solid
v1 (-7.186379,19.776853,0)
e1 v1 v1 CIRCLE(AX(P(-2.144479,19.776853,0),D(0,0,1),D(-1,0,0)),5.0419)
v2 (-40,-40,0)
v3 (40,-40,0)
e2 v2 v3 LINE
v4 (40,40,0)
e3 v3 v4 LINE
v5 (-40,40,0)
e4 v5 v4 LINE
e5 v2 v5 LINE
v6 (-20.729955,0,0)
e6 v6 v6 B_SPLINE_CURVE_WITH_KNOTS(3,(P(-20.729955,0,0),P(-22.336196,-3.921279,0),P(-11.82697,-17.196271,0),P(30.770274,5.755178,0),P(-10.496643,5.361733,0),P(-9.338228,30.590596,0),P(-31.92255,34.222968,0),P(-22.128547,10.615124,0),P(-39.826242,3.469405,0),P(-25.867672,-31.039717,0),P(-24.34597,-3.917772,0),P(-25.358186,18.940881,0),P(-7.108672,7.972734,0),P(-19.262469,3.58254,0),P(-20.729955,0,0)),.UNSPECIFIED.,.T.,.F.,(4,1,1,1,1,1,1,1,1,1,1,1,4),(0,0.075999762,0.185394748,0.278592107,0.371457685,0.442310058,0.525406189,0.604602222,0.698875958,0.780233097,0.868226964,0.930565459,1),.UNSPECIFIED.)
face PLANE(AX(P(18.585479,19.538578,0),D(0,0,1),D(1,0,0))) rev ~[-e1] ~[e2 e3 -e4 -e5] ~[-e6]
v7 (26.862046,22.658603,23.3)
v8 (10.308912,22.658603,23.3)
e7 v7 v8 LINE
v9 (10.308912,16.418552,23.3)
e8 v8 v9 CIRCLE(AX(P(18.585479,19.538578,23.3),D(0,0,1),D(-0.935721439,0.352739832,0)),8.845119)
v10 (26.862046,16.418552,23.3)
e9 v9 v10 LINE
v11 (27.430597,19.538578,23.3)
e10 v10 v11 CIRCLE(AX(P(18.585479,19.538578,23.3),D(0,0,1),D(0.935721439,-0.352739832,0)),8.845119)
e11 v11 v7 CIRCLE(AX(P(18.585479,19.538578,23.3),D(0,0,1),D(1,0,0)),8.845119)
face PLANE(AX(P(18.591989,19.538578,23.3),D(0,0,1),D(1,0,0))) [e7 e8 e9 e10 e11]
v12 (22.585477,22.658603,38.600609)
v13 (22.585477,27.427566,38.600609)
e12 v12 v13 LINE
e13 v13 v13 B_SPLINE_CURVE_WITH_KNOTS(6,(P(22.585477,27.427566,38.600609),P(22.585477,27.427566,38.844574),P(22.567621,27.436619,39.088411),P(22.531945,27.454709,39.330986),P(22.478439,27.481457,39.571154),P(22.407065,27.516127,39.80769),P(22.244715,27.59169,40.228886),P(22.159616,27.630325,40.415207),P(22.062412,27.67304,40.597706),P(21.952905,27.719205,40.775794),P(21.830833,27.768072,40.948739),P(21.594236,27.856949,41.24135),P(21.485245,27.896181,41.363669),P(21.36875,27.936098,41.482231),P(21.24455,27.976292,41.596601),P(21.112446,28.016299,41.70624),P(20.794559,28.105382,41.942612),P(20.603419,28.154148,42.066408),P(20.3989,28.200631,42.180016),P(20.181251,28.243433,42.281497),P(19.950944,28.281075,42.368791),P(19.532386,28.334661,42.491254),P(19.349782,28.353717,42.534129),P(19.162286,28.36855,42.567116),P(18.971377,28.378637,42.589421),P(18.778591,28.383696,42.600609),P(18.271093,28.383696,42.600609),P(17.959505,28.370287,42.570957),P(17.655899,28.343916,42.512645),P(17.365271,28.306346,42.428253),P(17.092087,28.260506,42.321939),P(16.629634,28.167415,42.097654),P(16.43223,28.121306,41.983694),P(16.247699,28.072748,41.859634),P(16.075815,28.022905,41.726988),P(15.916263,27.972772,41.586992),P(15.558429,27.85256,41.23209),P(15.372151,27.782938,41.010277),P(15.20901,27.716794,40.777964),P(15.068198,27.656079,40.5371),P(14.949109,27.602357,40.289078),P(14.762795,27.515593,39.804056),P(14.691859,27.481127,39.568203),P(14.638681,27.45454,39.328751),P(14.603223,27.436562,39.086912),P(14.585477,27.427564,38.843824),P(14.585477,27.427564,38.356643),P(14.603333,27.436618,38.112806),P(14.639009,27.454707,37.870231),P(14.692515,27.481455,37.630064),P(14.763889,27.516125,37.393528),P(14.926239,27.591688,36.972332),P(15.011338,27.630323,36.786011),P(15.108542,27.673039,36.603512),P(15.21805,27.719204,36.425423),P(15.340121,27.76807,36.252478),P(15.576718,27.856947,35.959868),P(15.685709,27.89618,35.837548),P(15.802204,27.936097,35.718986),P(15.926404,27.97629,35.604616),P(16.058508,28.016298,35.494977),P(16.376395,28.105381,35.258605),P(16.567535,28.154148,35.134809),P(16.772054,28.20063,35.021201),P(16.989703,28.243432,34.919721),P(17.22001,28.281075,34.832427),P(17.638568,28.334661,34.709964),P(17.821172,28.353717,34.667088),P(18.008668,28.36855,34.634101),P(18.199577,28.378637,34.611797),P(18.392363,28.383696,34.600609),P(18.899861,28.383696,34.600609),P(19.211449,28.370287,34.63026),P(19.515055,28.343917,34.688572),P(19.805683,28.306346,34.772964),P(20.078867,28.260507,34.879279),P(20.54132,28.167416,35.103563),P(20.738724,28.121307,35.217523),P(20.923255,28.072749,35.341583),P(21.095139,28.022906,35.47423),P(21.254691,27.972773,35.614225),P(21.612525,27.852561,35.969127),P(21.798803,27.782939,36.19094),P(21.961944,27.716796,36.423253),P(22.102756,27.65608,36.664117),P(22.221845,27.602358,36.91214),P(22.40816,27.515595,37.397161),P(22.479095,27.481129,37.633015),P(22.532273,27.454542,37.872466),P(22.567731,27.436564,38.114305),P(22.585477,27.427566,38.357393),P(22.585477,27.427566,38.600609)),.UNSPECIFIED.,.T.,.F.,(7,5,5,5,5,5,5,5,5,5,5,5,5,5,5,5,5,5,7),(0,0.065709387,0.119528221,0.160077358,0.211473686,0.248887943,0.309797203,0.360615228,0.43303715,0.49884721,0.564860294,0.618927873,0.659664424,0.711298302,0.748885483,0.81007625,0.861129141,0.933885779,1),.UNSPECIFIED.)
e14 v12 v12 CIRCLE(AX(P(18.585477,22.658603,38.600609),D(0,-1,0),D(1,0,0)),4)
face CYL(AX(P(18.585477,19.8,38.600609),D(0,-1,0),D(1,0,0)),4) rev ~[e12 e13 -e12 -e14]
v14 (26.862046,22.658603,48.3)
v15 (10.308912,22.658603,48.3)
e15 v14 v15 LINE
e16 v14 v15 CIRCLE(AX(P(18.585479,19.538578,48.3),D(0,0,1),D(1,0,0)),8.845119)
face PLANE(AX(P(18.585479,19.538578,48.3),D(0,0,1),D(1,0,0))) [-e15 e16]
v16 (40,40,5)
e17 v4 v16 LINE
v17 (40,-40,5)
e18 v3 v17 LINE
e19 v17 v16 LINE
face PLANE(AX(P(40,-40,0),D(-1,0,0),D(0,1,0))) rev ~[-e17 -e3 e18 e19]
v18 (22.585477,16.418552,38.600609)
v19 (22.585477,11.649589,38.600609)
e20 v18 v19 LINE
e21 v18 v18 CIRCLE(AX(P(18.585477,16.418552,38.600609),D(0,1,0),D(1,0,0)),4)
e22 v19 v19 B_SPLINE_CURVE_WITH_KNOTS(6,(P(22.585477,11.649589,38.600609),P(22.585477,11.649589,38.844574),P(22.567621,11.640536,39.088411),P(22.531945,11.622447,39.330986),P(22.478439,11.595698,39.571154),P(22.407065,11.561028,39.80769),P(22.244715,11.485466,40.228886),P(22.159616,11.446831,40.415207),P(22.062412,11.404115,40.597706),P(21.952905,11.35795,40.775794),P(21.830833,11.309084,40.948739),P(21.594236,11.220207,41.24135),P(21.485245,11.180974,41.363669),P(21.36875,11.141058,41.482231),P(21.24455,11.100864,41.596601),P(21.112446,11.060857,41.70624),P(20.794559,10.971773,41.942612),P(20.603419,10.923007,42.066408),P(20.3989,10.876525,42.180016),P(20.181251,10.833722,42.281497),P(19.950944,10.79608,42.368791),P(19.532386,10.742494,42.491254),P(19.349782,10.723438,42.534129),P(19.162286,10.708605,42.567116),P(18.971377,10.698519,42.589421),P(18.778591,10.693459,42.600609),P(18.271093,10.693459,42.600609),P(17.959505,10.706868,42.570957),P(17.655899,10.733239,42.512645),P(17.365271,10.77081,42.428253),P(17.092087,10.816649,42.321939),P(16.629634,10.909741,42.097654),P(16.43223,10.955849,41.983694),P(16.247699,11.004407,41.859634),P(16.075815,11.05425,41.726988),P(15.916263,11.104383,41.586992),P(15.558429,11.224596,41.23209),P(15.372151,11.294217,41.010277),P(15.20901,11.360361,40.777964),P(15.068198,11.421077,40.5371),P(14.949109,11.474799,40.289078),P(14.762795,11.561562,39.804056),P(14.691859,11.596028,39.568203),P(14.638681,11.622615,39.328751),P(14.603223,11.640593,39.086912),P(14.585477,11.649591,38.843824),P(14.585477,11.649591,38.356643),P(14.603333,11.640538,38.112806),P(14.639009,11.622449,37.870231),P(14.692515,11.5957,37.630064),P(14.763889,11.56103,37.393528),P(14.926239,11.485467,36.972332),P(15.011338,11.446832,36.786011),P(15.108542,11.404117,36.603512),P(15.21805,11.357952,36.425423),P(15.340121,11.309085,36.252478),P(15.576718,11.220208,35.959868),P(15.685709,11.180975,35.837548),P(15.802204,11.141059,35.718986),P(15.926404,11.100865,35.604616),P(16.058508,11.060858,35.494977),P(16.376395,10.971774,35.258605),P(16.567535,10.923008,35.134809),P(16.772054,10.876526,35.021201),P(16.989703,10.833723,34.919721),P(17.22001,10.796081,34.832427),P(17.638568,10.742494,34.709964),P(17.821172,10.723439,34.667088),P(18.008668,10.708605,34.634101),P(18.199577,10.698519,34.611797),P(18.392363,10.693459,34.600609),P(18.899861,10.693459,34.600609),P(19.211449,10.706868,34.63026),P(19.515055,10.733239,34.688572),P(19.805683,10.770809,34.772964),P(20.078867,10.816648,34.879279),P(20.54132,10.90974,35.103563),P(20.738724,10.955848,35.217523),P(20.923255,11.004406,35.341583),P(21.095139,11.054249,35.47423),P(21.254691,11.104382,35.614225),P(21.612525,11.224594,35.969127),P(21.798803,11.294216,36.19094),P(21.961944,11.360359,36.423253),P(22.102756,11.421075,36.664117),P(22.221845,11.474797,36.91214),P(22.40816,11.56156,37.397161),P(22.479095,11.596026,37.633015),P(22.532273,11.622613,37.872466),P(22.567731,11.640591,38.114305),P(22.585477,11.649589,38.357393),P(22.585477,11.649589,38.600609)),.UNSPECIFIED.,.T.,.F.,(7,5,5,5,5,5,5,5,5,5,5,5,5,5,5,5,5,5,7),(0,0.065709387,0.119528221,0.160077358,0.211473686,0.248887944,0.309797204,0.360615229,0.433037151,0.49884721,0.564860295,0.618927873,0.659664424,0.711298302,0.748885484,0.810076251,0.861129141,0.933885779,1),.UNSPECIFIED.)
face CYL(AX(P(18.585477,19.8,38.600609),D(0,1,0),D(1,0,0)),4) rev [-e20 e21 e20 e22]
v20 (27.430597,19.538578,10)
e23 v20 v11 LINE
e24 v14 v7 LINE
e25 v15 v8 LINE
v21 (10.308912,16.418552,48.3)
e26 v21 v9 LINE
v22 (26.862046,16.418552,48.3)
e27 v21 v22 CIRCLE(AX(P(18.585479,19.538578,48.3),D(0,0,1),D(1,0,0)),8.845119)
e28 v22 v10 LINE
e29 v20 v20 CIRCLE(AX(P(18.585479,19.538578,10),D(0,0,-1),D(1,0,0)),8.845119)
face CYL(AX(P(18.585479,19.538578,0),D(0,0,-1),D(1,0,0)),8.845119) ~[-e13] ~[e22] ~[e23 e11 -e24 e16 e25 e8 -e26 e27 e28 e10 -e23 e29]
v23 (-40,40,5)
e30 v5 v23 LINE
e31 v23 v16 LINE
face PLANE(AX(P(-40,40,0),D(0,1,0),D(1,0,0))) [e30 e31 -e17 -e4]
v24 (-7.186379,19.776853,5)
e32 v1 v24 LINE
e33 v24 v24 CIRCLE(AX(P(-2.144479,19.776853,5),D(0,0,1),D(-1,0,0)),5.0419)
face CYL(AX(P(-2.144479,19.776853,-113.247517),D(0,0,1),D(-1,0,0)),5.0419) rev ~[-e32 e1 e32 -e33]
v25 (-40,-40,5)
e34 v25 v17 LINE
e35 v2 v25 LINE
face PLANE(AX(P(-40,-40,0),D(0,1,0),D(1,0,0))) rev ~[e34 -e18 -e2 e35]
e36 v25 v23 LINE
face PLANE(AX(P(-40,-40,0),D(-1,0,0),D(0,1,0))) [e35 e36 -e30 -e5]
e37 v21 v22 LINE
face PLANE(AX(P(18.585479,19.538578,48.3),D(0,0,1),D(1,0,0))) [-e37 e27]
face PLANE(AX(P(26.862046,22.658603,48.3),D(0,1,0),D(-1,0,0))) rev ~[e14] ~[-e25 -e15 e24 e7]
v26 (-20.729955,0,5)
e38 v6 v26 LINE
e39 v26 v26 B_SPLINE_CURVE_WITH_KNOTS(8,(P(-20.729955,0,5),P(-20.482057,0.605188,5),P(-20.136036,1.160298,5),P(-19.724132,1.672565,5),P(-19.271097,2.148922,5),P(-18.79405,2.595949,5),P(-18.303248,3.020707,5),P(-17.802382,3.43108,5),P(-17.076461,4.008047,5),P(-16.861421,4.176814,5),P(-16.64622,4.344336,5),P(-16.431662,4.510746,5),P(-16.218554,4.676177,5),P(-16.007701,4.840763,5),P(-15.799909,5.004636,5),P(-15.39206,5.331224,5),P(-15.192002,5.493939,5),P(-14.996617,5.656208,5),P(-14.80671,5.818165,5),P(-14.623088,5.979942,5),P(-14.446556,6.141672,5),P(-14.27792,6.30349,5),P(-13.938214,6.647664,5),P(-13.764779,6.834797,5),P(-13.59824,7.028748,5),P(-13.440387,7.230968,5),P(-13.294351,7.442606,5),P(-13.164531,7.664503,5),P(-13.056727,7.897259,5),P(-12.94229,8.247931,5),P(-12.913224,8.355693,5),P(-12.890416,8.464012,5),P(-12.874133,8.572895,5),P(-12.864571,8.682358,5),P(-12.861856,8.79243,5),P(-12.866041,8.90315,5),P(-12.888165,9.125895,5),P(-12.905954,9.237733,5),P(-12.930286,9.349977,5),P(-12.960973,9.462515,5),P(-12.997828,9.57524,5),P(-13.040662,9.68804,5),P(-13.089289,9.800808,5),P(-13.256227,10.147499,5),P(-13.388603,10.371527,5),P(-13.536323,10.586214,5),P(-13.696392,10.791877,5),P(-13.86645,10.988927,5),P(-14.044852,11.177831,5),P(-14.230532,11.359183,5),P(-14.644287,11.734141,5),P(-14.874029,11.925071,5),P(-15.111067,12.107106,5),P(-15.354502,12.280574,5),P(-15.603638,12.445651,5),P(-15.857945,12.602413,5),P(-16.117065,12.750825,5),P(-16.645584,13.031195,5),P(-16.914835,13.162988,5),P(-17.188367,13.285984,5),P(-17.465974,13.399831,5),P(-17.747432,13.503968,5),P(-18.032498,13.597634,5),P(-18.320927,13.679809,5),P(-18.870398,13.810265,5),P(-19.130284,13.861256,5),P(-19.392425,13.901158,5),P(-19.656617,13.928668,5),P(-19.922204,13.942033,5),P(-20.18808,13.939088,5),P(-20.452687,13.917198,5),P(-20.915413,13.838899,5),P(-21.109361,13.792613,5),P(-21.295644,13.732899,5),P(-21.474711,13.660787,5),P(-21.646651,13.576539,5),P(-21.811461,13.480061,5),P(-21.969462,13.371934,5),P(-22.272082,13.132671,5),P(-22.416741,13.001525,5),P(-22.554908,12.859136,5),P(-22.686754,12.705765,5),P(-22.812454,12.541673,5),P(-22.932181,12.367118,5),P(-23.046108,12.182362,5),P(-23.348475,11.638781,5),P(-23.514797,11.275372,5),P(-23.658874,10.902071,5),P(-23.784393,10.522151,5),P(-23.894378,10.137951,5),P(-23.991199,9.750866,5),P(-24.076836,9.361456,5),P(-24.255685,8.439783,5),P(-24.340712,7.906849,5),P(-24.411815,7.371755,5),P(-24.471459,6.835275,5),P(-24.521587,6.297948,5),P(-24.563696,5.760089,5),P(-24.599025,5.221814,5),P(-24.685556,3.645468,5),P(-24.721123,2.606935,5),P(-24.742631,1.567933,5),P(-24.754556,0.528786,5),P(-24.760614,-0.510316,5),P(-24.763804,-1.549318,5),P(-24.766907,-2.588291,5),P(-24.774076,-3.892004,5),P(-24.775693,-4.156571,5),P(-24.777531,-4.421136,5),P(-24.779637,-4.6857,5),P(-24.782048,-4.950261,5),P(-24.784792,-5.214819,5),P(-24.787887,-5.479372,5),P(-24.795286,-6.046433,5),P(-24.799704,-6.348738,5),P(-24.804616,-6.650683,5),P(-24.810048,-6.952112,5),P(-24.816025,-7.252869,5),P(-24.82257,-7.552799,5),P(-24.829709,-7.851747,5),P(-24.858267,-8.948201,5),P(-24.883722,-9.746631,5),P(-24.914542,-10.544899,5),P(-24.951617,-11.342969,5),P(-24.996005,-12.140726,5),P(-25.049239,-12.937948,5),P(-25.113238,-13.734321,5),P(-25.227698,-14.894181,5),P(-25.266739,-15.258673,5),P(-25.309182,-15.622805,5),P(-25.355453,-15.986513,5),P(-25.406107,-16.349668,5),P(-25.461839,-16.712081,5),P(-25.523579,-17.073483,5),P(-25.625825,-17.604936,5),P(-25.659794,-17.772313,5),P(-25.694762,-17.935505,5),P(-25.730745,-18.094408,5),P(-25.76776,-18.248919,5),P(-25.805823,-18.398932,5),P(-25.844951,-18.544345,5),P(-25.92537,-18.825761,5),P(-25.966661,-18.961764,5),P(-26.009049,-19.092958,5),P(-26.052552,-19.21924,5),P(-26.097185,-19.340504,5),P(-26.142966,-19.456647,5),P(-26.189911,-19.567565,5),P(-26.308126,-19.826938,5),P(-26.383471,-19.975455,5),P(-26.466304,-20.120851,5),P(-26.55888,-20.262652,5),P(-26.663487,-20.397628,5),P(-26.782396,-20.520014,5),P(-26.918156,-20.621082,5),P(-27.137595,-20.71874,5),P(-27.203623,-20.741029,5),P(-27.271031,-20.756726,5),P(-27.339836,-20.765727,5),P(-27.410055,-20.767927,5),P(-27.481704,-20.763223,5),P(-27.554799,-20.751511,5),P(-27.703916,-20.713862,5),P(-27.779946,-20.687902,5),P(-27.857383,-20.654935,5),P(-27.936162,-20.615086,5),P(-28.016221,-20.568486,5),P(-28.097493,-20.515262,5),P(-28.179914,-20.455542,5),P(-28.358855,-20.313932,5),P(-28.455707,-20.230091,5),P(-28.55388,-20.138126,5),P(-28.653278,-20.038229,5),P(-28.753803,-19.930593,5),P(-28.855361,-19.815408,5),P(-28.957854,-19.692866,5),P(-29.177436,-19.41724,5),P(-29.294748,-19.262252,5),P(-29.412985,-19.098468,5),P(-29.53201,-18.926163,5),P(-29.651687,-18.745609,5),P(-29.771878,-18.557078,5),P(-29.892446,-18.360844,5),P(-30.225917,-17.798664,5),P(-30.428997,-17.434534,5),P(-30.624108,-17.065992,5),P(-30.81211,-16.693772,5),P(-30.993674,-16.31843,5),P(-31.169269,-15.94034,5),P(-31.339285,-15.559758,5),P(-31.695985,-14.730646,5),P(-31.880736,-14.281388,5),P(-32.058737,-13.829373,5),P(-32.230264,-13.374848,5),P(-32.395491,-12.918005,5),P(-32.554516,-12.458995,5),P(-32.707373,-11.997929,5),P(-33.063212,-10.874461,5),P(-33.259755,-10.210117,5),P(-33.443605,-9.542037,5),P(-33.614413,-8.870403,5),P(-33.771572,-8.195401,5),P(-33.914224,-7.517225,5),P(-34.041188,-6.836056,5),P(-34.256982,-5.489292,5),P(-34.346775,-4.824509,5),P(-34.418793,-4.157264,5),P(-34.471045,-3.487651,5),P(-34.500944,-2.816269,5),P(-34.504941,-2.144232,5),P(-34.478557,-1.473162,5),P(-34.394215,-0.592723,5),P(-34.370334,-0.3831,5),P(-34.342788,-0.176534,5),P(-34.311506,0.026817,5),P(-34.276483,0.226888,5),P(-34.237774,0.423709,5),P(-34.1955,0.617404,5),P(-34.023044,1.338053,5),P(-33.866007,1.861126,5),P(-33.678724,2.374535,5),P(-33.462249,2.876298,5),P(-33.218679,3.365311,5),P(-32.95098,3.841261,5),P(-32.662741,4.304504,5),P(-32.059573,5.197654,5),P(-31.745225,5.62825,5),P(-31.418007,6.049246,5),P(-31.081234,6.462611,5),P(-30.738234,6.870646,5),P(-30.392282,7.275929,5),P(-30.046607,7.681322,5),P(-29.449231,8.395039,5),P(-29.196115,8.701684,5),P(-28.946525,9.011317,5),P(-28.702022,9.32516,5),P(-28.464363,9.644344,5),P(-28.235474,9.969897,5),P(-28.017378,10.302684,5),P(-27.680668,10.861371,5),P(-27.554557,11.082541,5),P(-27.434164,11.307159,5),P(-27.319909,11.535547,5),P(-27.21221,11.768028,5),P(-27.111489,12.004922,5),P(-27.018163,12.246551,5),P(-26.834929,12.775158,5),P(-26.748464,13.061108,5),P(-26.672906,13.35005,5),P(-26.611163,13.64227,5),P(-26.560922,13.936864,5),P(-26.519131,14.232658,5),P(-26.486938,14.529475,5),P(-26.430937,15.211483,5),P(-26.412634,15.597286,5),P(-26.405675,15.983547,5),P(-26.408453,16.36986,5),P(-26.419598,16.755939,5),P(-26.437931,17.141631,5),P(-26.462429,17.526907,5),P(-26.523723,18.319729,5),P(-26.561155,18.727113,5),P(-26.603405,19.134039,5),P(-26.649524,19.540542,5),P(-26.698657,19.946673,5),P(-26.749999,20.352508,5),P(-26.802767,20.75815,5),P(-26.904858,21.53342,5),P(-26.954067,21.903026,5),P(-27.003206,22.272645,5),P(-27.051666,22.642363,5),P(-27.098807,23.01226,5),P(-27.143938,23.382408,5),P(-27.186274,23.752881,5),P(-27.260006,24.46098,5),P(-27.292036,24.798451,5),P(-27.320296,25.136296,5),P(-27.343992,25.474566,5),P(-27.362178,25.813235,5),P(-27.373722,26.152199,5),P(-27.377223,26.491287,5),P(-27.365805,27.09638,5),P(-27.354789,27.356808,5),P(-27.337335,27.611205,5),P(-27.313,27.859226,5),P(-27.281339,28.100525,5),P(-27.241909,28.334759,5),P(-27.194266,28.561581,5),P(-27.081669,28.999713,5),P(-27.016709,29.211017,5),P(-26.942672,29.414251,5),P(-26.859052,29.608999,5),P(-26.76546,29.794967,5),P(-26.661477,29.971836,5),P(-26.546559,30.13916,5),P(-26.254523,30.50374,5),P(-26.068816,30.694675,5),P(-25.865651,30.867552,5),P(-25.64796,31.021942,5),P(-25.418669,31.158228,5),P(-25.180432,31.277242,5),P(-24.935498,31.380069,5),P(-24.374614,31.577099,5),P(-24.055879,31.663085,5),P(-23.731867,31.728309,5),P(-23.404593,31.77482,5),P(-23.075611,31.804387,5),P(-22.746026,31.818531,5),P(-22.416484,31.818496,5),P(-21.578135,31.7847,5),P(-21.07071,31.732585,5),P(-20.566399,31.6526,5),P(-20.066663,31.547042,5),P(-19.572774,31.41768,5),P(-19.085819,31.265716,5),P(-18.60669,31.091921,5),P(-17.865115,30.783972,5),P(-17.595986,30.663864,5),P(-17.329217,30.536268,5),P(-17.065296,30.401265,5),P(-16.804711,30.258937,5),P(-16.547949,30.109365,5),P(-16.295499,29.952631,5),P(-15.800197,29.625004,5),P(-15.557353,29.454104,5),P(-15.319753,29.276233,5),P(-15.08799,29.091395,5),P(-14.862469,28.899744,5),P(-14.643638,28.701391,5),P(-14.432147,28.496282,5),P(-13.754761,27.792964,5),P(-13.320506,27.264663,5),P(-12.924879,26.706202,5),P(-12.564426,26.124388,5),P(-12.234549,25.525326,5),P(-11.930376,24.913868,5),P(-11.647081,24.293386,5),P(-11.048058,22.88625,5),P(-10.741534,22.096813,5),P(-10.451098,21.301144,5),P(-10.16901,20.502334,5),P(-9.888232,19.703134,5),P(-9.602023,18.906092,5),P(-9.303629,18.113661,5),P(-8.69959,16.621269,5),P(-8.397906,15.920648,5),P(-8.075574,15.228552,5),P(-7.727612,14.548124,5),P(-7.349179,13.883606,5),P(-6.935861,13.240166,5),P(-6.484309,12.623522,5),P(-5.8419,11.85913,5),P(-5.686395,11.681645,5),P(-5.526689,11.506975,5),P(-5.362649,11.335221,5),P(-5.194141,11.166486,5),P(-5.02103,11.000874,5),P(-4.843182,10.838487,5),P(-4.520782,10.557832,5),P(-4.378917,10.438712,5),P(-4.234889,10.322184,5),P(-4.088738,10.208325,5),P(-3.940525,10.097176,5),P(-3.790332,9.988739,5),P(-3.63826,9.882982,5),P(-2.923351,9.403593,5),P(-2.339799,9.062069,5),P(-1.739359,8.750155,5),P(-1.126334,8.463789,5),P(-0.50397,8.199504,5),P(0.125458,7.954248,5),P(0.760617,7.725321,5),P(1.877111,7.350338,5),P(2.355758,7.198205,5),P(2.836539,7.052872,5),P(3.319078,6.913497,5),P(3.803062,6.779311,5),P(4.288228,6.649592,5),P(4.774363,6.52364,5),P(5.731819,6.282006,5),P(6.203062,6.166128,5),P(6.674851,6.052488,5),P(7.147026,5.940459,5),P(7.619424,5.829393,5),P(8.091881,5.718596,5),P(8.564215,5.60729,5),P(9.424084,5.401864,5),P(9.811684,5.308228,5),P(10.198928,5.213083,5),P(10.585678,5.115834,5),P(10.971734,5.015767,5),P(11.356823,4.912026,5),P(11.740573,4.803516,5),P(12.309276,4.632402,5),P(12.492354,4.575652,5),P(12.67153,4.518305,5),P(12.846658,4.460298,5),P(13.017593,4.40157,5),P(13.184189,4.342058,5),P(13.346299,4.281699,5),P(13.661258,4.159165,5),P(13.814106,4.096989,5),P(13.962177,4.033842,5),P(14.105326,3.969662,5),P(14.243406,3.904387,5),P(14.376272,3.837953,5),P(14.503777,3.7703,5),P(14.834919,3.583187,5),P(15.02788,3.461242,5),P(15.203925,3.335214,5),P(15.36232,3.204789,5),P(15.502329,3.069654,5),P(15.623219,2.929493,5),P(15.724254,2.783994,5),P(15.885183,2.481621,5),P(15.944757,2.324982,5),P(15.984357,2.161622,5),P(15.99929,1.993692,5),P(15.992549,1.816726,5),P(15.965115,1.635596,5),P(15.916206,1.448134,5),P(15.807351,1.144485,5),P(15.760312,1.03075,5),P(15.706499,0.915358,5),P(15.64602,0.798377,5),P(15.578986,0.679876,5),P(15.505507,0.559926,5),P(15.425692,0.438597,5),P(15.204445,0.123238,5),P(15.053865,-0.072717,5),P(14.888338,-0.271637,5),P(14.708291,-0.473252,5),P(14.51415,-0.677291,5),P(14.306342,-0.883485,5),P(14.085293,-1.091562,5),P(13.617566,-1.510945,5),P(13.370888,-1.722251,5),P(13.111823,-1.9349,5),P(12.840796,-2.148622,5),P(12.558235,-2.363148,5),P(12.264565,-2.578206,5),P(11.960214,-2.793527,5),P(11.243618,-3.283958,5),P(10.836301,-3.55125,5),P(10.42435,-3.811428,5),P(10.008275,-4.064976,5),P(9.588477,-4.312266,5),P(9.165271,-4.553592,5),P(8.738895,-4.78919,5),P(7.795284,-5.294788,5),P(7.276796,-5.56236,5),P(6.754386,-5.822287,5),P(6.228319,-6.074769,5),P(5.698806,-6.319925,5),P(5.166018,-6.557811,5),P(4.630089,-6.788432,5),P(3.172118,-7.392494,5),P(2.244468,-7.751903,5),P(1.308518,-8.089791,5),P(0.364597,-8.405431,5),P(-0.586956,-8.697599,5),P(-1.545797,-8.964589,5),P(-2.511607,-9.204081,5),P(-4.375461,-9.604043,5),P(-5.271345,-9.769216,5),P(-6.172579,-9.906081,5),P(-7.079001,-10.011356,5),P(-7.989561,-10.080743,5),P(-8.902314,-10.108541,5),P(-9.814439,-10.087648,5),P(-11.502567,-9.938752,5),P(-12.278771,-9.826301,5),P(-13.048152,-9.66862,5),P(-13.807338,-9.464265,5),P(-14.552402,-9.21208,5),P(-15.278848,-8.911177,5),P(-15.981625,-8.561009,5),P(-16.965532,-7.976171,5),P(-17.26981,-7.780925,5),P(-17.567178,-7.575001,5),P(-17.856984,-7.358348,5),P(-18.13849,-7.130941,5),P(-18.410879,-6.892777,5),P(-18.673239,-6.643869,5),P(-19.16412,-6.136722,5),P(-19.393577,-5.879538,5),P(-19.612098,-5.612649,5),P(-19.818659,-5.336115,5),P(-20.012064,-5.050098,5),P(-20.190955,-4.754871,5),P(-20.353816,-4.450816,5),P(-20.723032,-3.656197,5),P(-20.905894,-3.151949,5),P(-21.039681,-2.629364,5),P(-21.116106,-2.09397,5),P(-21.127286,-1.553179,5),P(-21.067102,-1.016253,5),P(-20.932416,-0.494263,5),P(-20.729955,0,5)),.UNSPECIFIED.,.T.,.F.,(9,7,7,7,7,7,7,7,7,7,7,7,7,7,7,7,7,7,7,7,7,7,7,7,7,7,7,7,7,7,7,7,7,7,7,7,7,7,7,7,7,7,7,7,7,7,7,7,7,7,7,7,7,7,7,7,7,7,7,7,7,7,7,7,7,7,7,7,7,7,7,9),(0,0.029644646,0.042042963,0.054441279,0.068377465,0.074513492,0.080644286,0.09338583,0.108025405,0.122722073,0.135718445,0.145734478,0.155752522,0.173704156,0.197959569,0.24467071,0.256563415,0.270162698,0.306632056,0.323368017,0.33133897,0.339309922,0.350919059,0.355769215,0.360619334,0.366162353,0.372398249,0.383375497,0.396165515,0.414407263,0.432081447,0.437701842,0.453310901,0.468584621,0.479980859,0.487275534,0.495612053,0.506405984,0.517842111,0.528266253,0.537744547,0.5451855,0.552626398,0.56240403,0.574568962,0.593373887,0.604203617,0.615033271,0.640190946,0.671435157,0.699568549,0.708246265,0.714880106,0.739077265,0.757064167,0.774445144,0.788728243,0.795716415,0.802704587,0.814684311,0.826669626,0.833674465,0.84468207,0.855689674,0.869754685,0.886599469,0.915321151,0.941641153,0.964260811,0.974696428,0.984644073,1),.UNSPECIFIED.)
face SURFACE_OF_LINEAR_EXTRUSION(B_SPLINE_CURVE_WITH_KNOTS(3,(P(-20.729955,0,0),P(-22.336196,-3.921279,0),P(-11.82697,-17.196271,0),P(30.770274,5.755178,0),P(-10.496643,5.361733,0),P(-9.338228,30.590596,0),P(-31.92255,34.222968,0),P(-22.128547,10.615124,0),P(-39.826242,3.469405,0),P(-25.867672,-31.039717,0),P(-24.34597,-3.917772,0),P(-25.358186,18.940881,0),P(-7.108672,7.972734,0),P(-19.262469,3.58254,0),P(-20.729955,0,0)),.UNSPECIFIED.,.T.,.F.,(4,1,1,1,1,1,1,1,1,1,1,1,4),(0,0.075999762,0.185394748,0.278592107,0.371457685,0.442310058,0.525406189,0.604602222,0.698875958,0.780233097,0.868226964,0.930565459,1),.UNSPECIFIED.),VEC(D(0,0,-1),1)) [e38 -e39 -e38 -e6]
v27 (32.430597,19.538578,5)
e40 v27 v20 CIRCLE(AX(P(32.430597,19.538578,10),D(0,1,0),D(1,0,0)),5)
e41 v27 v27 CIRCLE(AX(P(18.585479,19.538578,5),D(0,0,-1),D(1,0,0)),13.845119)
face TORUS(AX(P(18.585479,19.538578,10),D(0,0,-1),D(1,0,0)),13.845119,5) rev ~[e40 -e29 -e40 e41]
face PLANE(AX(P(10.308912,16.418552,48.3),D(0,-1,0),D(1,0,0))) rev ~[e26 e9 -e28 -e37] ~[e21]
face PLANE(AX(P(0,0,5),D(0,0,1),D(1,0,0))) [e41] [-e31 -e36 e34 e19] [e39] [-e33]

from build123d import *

# Parameters (mm, degrees)
F0_W           = 80
F0_H           = 80
F1_DEPTH       = 5
F3_D           = 10.0838
F5_DEPTH       = 11.1
F6_R           = 8.8451185093
F7_DEPTH       = 48.3
F8_R           = 5
F11_DEPTH      = 25
F13_R          = 4
F14_DEPTH      = 10
F14_DEPTH_BACK = 10


with BuildPart() as f1:
    # F0 (on Top) → F1 (new body)
    with BuildSketch(Plane.XY):
        Rectangle(F0_W, F0_H)
    extrude(amount=F1_DEPTH)

    # F3 (through all)
    with Locations(Plane(origin=(0, 0, 0), x_dir=(1, 0, 0), z_dir=(0, 0, -1))):
        with Locations((-2.14447896, -19.7768528014)):
            Hole(F3_D / 2)

    # F4 (on Top) → F5 (cut)
    with BuildSketch(Plane.XY):
        with BuildLine():
            add(Edge.make_bspline(
                [(-20.7299552858, 0), (-22.3361964653, -3.9212788796), (-11.8269698213, -17.1962706457), (30.7702738067, 5.7551783813), (-10.4966432744, 5.3617331656), (-9.3382276227, 30.5905958484), (-31.9225501561, 34.2229678052), (-22.128547402, 10.6151240105), (-39.8262416522, 3.4694046665), (-25.8676721629, -31.0397168962), (-24.3459701246, -3.9177720023), (-25.358185553, 18.9408810818), (-7.1086716419, 7.9727344157), (-19.262468864, 3.5825401472), (-20.7299552858, 0)],
                knots=[0, 0, 0, 0, 0.0759997618, 0.1853947478, 0.278592107, 0.3714576847, 0.442310058, 0.5254061894, 0.604602222, 0.6988759578, 0.7802330966, 0.868226964, 0.9305654593, 1, 1, 1, 1], degree=3))
        make_face()
    extrude(amount=F5_DEPTH, mode=Mode.SUBTRACT)

    # F6 (on Top) → F7 (join)
    with BuildSketch(Plane.XY):
        with Locations((18.585478887, 19.538577646)):
            Circle(F6_R)
    extrude(amount=F7_DEPTH)

    # F8
    f8_edges = [f1.edges().sort_by_distance(p)[0] for p in [
        (9.74036, 19.538578, 5),
    ]]
    fillet(f8_edges, radius=F8_R)

    # F10 (on offset) → F11 (cut)
    with BuildSketch(Plane.XY.offset(48.3)):
        with BuildLine():
            ThreePointArc((26.8620459032, 16.4185520262), (27.2872987412, 17.9528750676), (27.4305973963, 19.538577646))
            ThreePointArc((27.4305973963, 19.538577646), (27.2872987412, 21.1242802244), (26.8620459032, 22.6586032659))
            Line((26.8620459032, 22.6586032659), (10.3089118707, 22.6586032659))
            ThreePointArc((10.3089118707, 22.6586032659), (9.7403603777, 19.538577646), (10.3089118707, 16.4185520262))
            Line((10.3089118707, 16.4185520262), (26.8620459032, 16.4185520262))
        make_face()
    extrude(amount=-F11_DEPTH, mode=Mode.SUBTRACT)

    # F13 (on offset) → F14 (cut, two sides)
    with BuildSketch(Plane.XZ.offset(-19.8)) as f14_sk:
        with Locations((18.5854770243, 38.6006087065)):
            Circle(F13_R)
    extrude(amount=F14_DEPTH, mode=Mode.SUBTRACT)
    extrude(f14_sk.sketch, amount=-F14_DEPTH_BACK, mode=Mode.SUBTRACT)


solid = f1.part
